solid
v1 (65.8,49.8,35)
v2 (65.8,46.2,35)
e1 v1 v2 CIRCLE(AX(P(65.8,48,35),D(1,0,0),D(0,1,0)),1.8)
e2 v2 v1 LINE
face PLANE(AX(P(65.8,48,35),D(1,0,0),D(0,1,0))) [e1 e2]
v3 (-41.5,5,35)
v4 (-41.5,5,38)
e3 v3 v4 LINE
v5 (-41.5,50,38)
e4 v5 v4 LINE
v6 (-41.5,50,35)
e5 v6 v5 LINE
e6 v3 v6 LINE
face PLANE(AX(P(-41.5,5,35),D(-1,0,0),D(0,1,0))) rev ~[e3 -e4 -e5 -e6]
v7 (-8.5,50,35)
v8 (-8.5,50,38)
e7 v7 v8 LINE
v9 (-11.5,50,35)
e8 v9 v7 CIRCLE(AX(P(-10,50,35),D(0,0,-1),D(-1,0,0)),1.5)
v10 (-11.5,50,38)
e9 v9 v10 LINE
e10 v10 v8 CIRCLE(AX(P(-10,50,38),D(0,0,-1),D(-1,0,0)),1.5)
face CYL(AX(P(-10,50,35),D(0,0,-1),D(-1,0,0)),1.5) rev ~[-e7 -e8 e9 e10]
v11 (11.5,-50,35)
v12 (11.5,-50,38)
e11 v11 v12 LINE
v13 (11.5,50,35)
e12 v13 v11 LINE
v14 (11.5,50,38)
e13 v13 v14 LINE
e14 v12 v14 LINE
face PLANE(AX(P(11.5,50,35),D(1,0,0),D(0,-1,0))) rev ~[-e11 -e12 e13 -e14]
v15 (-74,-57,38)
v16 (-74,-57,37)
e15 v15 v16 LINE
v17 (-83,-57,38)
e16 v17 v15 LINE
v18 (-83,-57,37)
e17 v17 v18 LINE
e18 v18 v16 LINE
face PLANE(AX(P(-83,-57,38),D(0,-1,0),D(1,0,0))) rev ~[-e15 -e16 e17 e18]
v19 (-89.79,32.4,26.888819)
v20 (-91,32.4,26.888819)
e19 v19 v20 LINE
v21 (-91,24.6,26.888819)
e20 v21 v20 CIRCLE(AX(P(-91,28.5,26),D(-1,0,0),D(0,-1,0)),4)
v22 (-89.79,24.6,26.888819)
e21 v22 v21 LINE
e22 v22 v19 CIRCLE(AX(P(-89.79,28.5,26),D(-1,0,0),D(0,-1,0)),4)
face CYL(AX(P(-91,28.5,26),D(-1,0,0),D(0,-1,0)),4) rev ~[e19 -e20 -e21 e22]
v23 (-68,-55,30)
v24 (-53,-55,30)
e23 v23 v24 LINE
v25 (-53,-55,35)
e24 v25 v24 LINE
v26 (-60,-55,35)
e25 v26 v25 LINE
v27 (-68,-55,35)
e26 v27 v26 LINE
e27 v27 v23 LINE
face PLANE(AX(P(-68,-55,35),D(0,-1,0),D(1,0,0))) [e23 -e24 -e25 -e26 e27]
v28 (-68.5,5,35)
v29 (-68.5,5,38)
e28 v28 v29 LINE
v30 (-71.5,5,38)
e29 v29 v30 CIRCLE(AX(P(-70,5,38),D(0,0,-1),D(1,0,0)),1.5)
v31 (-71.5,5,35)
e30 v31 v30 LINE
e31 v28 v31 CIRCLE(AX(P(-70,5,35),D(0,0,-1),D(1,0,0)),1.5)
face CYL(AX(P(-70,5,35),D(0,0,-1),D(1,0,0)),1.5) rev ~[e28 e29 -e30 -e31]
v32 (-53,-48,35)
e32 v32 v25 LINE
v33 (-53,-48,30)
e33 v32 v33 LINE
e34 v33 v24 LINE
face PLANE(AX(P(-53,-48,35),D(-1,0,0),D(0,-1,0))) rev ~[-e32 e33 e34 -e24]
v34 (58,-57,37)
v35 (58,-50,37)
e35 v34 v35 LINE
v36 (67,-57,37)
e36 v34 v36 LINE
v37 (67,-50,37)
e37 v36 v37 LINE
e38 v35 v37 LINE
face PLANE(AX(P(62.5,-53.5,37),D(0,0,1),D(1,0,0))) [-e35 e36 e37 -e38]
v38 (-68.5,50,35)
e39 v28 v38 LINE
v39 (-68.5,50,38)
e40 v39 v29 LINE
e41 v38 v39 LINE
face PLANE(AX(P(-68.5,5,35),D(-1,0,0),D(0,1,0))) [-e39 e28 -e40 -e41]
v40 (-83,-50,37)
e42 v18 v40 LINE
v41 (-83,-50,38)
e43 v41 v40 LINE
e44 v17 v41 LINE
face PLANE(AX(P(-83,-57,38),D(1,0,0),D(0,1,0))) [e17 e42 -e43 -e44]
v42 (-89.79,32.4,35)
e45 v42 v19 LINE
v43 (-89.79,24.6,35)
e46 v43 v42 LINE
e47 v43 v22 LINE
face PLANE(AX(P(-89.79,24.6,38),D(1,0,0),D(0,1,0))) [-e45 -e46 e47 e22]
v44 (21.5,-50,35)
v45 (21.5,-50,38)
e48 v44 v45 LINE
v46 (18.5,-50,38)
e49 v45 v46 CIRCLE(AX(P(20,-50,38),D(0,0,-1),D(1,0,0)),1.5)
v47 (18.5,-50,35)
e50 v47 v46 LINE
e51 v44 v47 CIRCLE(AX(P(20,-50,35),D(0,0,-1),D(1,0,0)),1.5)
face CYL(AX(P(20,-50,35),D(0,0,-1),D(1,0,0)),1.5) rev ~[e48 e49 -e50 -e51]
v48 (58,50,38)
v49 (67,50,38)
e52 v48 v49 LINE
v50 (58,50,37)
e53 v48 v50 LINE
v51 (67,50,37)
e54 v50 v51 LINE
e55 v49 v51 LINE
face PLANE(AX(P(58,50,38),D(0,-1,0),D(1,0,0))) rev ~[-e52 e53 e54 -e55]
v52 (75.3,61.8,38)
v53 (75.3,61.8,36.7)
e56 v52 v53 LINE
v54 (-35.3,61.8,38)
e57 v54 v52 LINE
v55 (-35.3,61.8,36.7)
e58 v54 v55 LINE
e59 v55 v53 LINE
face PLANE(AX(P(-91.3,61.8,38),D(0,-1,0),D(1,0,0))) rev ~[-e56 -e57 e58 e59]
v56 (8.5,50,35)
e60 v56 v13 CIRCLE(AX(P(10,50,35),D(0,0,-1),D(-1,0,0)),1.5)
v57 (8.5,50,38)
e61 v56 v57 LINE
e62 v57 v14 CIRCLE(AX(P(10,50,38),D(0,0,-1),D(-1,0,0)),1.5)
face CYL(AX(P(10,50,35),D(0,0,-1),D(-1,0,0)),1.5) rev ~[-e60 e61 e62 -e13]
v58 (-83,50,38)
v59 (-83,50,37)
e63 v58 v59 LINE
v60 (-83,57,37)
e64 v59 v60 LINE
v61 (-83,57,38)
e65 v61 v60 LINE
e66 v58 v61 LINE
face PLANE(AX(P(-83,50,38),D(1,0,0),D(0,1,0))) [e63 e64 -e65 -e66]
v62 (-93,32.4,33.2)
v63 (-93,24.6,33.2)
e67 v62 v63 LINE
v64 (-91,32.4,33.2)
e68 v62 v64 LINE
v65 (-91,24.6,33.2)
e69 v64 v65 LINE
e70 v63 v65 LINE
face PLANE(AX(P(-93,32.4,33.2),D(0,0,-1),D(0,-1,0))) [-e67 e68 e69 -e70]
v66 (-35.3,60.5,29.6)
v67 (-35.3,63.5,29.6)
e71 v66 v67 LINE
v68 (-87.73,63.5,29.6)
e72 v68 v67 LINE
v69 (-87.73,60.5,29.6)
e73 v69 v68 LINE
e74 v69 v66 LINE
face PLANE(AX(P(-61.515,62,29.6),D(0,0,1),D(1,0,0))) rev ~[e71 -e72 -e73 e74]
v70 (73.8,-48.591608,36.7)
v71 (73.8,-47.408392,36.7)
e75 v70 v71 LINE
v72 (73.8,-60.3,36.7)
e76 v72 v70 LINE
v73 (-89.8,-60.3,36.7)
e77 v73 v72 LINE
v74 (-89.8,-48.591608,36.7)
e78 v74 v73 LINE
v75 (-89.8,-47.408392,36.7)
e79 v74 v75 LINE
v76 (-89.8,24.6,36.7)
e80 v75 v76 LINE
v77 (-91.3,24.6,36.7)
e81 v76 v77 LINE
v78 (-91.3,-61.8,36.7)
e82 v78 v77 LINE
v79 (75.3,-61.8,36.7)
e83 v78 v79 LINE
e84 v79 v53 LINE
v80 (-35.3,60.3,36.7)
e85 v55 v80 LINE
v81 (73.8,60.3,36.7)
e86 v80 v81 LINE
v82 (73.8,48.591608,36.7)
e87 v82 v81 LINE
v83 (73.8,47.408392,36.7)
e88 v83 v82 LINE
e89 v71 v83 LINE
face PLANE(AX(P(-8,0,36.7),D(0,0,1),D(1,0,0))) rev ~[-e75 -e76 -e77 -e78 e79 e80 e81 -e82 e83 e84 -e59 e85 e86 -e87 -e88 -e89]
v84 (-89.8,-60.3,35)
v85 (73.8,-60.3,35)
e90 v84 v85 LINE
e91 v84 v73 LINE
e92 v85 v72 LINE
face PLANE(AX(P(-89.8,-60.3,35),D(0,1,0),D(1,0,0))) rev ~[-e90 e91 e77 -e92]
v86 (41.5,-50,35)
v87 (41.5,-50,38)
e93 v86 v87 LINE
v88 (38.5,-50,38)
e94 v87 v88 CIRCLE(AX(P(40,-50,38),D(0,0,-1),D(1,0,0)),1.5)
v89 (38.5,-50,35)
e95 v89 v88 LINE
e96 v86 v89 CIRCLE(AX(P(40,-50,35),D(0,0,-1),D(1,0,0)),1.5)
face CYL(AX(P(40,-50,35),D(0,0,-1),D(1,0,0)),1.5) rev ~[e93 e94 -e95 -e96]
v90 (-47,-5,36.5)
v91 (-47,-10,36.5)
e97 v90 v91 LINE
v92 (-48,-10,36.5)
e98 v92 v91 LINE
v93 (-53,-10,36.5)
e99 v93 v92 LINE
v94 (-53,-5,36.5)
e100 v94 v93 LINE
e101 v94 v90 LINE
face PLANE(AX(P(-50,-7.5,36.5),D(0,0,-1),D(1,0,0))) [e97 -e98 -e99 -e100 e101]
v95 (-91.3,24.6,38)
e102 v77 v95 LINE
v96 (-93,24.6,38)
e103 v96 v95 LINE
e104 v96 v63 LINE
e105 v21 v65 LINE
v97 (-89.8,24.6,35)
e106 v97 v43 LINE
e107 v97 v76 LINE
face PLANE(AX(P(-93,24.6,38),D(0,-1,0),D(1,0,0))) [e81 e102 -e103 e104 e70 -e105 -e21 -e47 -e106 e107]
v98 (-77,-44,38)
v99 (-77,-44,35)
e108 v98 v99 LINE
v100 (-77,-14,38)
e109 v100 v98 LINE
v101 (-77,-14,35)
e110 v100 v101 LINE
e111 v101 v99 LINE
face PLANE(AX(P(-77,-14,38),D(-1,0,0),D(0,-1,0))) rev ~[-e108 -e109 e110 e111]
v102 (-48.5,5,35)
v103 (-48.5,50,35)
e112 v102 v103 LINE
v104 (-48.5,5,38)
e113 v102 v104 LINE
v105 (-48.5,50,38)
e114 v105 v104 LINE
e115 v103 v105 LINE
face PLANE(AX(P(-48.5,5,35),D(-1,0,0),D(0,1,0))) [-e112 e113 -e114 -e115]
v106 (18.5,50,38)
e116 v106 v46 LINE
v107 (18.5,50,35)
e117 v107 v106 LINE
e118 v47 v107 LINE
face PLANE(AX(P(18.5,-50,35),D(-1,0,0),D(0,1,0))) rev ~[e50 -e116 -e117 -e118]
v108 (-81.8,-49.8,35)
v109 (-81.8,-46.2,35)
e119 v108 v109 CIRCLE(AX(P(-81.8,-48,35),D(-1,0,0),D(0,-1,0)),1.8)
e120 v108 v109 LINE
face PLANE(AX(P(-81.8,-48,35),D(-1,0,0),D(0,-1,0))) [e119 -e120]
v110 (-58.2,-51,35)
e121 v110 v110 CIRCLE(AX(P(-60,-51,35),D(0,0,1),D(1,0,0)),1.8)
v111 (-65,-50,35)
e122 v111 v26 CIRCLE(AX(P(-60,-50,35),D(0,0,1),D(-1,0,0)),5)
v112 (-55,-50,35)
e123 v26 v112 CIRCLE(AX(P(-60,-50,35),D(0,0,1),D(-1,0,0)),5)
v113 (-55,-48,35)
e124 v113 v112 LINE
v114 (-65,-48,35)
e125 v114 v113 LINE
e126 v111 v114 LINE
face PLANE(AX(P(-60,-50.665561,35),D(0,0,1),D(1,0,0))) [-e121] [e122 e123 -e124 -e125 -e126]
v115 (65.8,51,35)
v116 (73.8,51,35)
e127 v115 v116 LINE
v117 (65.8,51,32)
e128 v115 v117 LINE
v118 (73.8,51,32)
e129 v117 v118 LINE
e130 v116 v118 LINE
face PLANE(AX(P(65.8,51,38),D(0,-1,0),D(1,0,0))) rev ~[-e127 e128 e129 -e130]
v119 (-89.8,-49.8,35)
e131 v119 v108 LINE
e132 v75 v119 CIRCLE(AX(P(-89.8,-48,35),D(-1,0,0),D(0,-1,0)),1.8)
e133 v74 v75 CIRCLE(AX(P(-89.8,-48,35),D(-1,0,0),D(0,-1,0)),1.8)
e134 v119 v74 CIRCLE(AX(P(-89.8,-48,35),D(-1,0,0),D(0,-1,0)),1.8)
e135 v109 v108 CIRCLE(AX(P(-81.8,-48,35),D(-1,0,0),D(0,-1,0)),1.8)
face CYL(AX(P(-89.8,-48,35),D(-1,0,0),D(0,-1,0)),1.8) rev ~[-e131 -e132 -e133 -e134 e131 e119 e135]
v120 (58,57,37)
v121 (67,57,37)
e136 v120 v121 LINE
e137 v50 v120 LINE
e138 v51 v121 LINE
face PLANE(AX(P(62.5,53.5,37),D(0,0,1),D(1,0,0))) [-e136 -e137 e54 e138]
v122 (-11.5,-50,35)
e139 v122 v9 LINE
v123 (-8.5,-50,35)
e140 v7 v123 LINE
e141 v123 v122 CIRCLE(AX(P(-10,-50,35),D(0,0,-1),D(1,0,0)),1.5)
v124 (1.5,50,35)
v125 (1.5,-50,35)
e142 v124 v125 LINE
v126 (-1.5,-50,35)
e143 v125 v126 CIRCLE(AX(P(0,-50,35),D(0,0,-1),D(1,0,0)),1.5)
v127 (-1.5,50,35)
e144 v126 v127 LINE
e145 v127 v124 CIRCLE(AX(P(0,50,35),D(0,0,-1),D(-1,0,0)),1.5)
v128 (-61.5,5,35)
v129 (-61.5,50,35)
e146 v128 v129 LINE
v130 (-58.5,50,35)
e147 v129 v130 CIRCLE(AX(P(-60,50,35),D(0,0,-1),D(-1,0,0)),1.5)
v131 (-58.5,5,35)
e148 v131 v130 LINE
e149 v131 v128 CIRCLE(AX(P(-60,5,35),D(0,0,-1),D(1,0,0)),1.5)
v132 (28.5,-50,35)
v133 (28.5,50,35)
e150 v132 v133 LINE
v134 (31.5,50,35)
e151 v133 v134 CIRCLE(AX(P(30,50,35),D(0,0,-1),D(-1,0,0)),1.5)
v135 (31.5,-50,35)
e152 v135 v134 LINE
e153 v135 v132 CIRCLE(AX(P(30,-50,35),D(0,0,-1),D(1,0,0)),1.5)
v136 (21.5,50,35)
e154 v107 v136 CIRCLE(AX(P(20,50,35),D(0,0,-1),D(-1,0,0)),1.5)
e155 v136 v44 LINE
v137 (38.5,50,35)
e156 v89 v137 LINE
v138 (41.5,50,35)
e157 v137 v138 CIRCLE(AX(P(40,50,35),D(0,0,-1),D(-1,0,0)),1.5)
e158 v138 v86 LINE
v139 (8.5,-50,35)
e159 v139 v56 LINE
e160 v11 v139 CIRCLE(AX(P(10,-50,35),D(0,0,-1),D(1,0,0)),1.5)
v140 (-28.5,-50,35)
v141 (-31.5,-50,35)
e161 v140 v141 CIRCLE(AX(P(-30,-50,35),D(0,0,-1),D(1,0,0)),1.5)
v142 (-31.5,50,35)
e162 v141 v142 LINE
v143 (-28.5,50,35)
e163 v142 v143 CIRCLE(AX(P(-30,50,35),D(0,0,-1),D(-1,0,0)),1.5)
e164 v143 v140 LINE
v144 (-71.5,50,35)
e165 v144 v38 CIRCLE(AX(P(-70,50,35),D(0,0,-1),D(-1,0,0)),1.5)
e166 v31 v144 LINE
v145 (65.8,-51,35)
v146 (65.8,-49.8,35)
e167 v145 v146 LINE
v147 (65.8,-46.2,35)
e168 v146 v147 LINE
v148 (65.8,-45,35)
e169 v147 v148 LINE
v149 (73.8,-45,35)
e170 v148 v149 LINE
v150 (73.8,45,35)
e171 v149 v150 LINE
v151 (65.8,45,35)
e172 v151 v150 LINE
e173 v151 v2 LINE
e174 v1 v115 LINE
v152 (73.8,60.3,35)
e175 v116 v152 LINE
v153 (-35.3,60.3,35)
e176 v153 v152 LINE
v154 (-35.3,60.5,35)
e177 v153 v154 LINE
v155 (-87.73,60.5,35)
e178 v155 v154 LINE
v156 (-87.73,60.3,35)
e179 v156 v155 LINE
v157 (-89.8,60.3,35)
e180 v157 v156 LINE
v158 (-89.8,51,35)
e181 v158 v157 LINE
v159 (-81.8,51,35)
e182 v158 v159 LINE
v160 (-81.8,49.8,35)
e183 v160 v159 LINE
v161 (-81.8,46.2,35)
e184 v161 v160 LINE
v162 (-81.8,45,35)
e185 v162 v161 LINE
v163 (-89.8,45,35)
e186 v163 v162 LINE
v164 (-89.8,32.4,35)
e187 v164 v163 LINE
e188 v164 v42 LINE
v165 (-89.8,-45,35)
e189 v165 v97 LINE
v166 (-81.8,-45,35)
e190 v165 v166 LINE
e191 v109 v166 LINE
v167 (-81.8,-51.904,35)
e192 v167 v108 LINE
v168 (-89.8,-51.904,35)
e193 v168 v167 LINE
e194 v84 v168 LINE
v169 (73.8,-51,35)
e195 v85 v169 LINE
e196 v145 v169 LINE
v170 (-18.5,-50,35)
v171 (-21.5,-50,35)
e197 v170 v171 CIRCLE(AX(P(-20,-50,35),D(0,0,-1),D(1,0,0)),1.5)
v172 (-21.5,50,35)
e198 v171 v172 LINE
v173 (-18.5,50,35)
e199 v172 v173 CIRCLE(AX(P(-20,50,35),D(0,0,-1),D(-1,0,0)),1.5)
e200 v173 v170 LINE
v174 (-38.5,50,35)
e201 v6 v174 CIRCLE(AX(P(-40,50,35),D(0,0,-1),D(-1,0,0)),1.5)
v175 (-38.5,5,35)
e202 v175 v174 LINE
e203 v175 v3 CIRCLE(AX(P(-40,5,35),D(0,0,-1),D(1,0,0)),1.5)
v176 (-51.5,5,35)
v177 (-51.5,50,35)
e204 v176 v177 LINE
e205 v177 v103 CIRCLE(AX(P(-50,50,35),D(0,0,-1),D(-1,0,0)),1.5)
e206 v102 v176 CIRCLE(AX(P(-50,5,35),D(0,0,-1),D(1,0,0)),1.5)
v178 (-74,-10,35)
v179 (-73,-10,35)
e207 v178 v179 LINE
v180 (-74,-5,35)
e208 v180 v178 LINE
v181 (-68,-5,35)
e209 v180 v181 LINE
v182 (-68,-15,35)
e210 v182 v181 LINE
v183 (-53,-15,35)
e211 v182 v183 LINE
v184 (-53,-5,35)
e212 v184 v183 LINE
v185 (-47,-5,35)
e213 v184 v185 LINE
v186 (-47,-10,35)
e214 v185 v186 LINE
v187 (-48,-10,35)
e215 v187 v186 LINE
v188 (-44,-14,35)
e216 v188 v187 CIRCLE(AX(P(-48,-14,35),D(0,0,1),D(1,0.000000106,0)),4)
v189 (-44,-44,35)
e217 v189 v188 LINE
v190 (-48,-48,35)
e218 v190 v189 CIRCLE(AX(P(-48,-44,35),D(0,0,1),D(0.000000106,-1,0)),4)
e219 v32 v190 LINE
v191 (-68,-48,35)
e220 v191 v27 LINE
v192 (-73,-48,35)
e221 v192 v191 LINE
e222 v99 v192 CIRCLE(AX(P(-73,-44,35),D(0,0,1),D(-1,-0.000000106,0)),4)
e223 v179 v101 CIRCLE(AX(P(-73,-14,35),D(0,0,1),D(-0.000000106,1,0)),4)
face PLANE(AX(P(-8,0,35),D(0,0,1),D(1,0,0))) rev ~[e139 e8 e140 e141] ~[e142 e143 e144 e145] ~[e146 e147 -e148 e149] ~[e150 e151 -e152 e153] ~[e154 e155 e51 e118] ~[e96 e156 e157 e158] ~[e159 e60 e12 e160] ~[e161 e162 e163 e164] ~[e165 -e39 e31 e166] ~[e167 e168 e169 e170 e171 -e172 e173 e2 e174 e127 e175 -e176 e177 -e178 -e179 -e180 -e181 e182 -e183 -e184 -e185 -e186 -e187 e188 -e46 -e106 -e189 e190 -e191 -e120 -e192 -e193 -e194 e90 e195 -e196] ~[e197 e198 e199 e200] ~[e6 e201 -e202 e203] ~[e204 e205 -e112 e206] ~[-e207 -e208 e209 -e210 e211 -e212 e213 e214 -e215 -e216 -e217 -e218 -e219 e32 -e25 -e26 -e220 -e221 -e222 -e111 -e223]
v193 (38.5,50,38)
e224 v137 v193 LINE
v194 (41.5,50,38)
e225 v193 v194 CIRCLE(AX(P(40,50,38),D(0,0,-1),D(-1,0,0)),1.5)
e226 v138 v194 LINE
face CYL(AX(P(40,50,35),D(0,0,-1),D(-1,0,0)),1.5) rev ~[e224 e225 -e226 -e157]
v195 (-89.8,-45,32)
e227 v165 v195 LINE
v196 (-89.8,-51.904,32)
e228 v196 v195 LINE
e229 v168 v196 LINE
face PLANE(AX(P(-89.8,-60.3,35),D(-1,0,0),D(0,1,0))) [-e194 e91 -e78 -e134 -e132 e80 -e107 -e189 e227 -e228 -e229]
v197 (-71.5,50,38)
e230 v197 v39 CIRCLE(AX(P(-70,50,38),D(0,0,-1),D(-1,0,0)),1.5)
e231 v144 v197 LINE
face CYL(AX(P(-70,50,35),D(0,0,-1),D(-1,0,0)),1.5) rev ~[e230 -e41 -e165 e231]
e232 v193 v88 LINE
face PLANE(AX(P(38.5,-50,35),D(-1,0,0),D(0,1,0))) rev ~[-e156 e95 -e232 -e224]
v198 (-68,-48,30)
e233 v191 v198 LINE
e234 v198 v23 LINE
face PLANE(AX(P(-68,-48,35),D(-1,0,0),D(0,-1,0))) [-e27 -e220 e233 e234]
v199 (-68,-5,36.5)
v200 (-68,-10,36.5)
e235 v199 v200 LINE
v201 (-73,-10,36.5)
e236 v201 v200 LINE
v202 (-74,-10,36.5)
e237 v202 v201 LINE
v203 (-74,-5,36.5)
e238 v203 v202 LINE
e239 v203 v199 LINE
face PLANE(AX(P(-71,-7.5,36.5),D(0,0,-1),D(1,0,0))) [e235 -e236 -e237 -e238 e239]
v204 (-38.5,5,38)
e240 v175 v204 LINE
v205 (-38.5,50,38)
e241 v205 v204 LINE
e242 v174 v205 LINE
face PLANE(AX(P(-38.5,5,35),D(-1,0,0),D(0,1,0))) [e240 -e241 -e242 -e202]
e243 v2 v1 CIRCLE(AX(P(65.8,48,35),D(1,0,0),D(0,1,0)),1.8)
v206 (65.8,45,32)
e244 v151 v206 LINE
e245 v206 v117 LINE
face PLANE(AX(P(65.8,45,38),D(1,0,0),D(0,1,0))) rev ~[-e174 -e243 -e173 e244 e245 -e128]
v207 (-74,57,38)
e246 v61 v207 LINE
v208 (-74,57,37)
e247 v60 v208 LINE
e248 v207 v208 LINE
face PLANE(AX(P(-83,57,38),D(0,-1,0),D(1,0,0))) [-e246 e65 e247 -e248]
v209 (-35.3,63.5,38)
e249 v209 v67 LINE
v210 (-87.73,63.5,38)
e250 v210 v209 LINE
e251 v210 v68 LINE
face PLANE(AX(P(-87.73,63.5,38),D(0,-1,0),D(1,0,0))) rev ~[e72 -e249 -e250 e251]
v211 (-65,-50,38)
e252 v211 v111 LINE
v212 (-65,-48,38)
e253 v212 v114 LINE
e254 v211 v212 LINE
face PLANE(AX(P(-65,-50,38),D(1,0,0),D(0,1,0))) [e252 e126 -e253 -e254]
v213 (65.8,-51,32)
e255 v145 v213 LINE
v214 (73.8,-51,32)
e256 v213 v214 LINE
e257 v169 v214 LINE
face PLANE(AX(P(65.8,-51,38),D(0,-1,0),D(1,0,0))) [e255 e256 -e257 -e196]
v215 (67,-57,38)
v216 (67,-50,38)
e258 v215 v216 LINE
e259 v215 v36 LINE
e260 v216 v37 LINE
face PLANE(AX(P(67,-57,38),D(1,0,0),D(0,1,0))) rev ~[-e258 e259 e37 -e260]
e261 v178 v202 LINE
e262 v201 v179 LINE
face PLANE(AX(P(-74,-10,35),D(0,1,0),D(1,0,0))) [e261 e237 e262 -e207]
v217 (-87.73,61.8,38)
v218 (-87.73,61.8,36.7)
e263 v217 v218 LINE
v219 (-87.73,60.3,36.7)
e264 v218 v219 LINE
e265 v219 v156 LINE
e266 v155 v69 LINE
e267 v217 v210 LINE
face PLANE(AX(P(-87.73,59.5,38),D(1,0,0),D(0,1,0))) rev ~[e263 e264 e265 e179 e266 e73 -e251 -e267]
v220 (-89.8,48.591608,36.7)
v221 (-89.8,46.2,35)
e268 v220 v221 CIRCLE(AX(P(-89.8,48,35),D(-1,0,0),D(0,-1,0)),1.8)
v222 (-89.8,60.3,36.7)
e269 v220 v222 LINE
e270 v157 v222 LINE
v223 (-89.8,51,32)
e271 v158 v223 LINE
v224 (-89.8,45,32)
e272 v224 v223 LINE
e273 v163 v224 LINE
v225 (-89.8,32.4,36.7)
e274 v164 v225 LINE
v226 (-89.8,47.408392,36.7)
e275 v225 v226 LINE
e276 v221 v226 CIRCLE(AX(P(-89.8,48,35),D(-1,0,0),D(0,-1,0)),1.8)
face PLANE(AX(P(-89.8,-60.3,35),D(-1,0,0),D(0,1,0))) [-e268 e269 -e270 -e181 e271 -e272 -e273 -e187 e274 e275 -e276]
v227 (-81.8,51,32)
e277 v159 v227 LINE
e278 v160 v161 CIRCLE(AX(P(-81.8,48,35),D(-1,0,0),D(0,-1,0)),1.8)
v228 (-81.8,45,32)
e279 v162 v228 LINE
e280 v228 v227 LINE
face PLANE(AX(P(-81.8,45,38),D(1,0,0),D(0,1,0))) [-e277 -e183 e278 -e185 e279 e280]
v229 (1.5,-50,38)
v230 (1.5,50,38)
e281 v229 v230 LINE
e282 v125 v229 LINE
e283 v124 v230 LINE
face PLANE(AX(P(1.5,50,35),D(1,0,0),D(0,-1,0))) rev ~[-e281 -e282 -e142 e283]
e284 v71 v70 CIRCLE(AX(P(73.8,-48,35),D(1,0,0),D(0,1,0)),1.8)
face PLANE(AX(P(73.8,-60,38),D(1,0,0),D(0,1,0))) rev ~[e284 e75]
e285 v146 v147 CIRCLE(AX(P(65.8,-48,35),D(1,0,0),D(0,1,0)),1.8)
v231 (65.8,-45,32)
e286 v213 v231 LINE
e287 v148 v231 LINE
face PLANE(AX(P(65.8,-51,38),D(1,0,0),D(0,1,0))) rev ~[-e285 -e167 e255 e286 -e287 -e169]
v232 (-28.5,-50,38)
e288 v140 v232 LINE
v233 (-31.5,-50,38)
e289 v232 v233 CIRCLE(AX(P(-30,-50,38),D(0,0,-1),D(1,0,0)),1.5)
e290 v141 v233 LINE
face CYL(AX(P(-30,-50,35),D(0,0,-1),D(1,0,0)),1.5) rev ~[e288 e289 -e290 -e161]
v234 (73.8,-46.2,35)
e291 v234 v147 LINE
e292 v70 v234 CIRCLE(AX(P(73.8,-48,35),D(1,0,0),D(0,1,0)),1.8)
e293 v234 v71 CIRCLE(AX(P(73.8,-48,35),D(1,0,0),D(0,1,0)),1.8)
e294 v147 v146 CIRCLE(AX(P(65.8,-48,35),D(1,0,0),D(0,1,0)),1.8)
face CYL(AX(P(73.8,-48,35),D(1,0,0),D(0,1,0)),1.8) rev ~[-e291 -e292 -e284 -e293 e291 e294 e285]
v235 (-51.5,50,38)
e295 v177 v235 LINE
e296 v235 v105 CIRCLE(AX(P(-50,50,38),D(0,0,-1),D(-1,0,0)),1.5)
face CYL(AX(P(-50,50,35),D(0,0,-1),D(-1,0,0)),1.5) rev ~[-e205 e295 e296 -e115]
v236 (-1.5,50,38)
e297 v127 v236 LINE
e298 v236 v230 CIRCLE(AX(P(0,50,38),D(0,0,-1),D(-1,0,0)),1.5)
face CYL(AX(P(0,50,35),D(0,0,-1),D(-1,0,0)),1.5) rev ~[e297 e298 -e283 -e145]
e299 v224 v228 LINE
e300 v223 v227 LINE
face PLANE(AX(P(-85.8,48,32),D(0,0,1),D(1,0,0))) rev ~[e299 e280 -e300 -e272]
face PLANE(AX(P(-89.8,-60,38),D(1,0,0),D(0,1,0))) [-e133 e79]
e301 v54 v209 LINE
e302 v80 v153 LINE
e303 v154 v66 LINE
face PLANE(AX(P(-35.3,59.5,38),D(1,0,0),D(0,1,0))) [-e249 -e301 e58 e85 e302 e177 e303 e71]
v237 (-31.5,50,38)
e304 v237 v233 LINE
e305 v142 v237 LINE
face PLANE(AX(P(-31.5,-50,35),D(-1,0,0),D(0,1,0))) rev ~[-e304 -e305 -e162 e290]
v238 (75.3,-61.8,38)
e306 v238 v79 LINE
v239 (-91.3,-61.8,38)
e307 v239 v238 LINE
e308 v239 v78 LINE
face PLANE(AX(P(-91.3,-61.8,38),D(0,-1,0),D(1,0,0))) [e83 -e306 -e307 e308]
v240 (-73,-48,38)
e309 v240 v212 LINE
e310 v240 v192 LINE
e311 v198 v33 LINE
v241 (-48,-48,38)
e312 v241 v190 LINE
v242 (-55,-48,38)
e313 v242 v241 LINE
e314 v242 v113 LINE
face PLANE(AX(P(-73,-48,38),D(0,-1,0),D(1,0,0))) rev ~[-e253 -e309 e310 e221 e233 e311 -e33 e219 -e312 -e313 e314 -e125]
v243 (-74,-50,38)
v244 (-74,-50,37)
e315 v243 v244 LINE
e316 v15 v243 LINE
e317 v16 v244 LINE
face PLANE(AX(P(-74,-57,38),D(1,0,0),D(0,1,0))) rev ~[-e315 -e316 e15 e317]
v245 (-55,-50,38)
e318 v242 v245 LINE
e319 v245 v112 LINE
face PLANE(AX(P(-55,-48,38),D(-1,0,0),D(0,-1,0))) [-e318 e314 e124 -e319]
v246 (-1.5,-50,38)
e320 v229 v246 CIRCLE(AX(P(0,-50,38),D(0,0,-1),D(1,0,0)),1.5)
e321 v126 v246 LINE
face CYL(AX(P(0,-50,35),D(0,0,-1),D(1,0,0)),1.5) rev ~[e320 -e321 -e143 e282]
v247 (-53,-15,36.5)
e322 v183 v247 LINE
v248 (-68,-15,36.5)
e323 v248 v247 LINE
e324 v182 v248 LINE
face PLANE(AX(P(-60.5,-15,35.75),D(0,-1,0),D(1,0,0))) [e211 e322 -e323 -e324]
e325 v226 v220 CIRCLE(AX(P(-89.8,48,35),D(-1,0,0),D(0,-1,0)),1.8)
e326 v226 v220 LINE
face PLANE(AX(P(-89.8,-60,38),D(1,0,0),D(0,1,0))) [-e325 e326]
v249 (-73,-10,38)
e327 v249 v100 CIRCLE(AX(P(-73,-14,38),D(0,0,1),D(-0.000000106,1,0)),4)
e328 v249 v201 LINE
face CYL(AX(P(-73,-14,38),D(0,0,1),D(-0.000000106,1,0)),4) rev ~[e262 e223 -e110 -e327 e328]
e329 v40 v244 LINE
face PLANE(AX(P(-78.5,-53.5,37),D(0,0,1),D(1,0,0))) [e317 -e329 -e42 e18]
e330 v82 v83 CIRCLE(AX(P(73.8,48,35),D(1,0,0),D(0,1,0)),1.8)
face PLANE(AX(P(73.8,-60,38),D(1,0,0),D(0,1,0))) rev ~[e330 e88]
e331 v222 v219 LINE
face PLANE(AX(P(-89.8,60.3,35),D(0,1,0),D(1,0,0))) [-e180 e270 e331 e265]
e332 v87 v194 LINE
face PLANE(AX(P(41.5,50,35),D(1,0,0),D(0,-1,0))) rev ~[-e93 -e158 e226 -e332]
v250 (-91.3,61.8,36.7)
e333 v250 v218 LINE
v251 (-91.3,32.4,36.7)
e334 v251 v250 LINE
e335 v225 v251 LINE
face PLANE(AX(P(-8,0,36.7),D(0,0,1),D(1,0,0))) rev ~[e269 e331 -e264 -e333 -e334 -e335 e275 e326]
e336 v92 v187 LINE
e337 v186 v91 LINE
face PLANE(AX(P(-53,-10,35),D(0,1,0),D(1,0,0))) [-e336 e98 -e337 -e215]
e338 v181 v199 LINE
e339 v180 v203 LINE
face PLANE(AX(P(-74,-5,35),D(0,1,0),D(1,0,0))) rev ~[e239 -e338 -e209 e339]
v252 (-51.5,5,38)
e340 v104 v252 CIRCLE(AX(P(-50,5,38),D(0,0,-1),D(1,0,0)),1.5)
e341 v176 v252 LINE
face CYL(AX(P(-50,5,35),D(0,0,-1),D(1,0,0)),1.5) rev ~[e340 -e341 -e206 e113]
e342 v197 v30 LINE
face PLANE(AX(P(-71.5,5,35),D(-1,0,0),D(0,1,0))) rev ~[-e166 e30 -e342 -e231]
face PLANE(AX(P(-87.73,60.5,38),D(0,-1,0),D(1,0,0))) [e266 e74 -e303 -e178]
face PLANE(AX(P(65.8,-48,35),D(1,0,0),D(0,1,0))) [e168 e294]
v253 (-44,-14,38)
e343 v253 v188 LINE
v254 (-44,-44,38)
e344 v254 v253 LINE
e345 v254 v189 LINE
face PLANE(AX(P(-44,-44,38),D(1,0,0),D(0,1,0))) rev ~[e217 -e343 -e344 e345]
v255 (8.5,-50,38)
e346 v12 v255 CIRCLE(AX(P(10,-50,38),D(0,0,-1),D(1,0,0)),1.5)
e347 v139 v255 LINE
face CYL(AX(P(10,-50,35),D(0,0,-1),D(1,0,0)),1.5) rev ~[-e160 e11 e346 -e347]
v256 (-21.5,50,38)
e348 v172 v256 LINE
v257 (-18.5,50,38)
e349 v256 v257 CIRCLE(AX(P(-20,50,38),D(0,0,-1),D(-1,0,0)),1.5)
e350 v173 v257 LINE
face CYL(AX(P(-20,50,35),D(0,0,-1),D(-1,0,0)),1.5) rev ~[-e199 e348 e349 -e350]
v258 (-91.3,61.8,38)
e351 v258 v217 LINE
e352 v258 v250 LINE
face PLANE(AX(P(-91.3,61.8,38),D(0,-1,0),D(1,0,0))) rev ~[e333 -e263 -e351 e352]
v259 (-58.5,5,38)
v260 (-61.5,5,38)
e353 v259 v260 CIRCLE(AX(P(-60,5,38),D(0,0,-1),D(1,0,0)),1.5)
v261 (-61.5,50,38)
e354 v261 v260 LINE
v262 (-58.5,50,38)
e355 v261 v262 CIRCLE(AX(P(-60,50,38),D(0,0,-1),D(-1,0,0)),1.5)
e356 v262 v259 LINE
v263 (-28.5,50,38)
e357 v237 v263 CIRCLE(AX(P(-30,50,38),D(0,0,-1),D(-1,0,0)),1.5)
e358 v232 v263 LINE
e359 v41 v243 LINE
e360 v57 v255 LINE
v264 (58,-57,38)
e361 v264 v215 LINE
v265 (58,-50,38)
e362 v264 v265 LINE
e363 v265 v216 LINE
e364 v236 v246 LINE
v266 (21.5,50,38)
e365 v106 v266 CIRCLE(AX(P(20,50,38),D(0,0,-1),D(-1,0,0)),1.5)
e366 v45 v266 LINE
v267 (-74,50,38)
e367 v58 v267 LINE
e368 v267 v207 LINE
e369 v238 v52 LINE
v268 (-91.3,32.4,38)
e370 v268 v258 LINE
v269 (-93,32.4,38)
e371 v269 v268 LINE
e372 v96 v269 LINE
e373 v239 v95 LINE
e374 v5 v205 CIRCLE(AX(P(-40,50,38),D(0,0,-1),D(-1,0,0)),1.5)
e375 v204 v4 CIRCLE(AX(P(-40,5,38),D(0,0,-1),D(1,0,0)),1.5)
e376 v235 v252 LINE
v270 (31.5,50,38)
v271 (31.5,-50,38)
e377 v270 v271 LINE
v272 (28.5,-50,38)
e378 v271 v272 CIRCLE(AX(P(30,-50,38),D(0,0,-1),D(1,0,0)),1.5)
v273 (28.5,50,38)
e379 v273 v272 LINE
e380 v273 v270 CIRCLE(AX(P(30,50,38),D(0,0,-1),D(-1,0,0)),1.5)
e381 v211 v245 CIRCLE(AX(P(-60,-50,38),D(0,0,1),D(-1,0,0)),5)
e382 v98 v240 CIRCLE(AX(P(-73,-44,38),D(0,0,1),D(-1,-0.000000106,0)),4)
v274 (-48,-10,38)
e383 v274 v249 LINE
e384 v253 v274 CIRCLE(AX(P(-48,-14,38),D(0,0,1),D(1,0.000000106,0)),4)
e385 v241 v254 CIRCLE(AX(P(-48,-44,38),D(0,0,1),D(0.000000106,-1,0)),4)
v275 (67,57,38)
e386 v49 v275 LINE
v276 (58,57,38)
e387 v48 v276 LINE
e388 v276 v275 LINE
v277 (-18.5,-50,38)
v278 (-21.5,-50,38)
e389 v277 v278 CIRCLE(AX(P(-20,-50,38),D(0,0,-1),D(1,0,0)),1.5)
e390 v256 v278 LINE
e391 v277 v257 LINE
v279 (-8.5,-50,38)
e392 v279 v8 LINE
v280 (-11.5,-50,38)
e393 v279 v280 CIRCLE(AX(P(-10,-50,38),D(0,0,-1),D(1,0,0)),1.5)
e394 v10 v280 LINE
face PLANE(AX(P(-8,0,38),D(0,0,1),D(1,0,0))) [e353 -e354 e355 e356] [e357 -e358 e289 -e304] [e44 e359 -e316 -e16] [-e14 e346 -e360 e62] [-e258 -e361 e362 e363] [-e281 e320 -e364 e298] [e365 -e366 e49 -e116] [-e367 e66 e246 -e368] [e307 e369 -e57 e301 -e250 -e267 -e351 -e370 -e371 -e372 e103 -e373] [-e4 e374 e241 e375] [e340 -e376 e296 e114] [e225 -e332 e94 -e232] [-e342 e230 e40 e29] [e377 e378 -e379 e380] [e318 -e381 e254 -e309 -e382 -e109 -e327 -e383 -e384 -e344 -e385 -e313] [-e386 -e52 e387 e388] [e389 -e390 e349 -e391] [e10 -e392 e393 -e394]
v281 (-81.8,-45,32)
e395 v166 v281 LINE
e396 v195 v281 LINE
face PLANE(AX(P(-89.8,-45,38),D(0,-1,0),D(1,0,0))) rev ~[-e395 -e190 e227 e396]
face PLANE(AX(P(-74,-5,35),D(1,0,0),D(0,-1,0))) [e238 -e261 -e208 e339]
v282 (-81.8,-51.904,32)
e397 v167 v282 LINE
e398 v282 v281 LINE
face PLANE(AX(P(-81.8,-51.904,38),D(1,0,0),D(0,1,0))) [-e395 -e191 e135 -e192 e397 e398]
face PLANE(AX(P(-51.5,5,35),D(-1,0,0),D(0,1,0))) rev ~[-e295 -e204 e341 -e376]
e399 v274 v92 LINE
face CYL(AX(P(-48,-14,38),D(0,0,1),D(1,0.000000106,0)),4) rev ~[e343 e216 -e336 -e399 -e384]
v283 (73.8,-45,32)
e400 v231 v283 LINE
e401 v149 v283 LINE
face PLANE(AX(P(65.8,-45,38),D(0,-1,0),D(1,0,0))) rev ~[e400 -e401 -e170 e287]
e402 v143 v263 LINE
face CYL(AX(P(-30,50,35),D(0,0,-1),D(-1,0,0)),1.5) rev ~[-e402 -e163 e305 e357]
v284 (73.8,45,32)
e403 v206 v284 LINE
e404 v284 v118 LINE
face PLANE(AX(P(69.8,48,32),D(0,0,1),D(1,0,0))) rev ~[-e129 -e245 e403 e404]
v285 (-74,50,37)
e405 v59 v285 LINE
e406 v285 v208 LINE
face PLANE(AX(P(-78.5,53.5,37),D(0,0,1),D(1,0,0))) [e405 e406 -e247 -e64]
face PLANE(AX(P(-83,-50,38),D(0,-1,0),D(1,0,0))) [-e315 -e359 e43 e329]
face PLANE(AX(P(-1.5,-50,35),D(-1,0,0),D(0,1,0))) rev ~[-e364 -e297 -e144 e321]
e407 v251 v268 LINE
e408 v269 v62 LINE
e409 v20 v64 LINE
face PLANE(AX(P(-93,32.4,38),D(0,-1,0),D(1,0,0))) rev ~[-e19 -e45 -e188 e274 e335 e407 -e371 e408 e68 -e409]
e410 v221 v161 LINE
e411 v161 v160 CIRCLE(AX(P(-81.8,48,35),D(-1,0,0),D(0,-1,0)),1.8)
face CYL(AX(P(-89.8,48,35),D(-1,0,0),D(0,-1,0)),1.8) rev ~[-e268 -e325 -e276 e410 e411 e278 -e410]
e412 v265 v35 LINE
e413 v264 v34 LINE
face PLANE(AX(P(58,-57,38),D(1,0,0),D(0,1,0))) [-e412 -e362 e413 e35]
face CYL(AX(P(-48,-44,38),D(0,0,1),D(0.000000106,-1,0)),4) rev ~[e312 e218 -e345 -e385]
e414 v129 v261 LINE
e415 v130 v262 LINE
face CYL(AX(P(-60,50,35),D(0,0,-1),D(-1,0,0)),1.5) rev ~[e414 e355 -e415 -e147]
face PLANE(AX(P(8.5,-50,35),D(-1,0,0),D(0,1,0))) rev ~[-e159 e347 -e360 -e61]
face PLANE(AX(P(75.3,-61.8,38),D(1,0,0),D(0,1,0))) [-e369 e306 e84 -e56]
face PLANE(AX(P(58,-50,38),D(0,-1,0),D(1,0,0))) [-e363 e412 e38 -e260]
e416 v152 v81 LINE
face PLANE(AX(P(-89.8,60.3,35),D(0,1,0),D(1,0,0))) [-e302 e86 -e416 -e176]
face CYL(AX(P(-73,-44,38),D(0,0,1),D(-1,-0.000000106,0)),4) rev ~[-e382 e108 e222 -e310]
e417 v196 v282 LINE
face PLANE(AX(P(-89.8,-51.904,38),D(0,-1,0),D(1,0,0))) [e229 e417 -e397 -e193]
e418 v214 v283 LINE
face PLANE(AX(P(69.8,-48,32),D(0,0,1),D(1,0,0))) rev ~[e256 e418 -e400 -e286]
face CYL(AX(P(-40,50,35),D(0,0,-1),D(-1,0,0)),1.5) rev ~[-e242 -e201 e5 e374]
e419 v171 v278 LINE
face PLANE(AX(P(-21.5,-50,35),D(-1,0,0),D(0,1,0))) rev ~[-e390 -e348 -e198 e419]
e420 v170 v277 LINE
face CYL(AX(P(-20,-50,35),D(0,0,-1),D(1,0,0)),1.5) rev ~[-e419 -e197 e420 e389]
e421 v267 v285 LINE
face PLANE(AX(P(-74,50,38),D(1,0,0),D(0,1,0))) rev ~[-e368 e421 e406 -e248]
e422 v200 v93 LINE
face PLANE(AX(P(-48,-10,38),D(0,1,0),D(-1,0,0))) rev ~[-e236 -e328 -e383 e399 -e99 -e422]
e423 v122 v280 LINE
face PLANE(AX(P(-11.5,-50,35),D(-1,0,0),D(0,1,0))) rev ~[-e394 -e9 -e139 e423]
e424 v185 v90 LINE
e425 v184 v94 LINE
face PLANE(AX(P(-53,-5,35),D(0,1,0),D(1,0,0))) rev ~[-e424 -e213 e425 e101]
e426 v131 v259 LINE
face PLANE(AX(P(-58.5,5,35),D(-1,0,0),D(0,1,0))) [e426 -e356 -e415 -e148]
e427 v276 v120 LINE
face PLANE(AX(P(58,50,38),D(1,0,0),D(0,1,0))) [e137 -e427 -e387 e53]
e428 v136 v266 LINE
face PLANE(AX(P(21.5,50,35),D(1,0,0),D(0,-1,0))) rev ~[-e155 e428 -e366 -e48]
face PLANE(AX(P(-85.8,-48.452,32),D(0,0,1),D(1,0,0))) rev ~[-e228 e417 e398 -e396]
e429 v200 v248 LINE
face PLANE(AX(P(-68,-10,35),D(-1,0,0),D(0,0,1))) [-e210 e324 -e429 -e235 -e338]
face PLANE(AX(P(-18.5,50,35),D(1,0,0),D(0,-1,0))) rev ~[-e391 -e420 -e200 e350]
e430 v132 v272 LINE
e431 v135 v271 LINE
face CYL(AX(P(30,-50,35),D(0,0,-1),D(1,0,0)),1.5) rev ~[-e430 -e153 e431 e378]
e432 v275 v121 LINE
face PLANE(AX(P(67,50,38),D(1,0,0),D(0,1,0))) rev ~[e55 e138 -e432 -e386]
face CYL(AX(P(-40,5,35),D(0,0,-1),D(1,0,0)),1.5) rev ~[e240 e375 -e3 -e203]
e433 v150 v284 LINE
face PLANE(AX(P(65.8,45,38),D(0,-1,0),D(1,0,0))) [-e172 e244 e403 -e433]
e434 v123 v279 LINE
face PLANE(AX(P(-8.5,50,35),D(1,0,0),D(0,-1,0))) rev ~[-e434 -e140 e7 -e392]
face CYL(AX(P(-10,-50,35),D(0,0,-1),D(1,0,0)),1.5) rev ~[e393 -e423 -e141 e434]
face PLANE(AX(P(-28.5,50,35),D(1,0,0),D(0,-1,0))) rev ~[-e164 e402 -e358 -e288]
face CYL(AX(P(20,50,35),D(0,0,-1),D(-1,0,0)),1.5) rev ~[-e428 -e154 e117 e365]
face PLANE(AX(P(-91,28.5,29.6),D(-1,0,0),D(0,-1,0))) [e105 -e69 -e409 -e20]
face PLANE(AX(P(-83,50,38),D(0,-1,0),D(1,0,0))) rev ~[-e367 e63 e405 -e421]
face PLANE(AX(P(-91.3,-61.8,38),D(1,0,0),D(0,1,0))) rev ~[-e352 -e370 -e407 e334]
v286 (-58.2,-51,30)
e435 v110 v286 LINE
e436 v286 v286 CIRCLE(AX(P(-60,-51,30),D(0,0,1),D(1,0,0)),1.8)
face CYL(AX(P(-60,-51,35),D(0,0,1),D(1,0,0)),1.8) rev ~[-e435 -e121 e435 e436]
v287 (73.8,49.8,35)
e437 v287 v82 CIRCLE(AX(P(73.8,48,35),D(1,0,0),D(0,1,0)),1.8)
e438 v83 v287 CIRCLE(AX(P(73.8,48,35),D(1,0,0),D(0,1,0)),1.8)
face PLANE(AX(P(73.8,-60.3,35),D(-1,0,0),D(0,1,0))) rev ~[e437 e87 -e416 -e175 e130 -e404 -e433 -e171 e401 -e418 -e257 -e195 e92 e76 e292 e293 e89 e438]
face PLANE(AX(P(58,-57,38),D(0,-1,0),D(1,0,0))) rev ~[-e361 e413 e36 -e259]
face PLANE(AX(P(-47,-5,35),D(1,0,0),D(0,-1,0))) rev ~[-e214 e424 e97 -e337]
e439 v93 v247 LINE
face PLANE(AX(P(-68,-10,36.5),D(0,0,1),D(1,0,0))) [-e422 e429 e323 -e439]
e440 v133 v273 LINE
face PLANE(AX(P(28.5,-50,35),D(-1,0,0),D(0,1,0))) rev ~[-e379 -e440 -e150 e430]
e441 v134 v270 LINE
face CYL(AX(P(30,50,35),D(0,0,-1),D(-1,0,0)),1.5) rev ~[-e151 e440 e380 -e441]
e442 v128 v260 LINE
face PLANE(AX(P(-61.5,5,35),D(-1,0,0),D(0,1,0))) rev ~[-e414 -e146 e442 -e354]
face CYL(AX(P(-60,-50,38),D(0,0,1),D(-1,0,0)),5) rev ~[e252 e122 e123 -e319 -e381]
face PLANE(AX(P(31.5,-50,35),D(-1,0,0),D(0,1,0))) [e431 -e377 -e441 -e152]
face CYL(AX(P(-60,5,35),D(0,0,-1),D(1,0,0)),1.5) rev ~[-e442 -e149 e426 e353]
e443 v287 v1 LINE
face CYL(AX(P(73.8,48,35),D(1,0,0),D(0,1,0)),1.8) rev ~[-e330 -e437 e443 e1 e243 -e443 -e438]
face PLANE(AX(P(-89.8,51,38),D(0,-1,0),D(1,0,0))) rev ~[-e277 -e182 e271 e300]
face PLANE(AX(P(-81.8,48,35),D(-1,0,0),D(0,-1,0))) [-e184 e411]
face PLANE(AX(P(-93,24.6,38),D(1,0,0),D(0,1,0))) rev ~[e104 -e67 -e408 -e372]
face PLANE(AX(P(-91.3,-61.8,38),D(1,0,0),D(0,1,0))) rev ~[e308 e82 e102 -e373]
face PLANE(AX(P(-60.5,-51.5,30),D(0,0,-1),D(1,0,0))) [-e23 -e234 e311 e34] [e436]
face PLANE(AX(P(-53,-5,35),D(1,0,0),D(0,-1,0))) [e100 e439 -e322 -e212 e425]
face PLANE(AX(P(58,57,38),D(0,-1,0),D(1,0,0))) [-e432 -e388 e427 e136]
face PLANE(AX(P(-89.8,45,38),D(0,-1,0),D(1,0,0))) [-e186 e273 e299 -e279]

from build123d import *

# Parameters (mm, degrees)
SKETCH019_W     = 163.6
SKETCH019_H     = 120.6
PAD003_DEPTH    = 3
SKETCH020_W     = 52.43
SKETCH020_H     = 4
PAD004_DEPTH    = 3
SKETCH021_W     = 52.43
SKETCH021_H     = 3
PAD005_DEPTH    = 8.4
SKETCH025_W     = 3.21
SKETCH025_H     = 7.8
PAD006_DEPTH    = 11.9
SKETCH026_W     = 7.8
SKETCH026_H     = 7.2
POCKET019_DEPTH = 2
SKETCH027_R     = 4
POCKET020_DEPTH = 5
SKETCH028_W     = 8
SKETCH028_H     = 6
SKETCH028_H_2   = 6.904
PAD007_DEPTH    = 6
SKETCH029_R     = 1.8
POCKET021_DEPTH = 8
SKETCH030_R     = 1.8
POCKET022_DEPTH = 8
POCKET027_DEPTH = 5
SKETCH036_W     = 15
SKETCH036_H     = 1.5
PAD008_DEPTH    = 5
SKETCH037_W     = 6
SKETCH037_H     = 5
POCKET028_DEPTH = 1.5
SKETCH038_W     = 15
SKETCH038_H     = 7
PAD009_DEPTH    = 5
POCKET029_DEPTH = 3
SKETCH040_R     = 1.8
POCKET030_DEPTH = 5
POCKET031_DEPTH = 5
SKETCH042_W     = 9
SKETCH042_H     = 7
POCKET032_DEPTH = 1
SKETCH050_W     = 166.6
SKETCH050_H     = 123.6
SKETCH050_W_2   = 163.6
SKETCH050_H_2   = 120
PAD014_DEPTH    = 1.3


with BuildPart() as part:
    # Sketch019 → Pad003 (new body)
    with BuildSketch(Plane.XY):
        with Locations((-8, 0)):
            Rectangle(SKETCH019_W, SKETCH019_H)
    extrude(amount=PAD003_DEPTH)

    # Sketch020 (on Face6 of Pad003) → Pad004 (join)
    with BuildSketch(Plane.XY.offset(3)):
        with Locations((-61.515, 61.5)):
            Rectangle(SKETCH020_W, SKETCH020_H)
    extrude(amount=-PAD004_DEPTH)

    # Sketch021 (on Face10 of Pad004) → Pad005 (join)
    with BuildSketch(Plane.XY.offset(3)):
        with Locations((-61.515, 62)):
            Rectangle(SKETCH021_W, SKETCH021_H)
    extrude(amount=-PAD005_DEPTH)

    # Sketch025 (on Face4 of Pad005) → Pad006 (join)
    with BuildSketch(Plane.XY.offset(3)):
        with Locations((-91.395, 28.5)):
            Rectangle(SKETCH025_W, SKETCH025_H)
    extrude(amount=-PAD006_DEPTH)

    # Sketch026 (on Face11 of Pad006) → Pocket019 (cut)
    with BuildSketch(Plane(origin=(-93, 0, 0), x_dir=(0, -1, 0), z_dir=(-1, 0, 0))):
        with Locations((-28.5, -5.4)):
            Rectangle(SKETCH026_W, SKETCH026_H)
    extrude(amount=-POCKET019_DEPTH, mode=Mode.SUBTRACT)

    # Sketch027 (on Face19 of Pocket019) → Pocket020 (cut)
    with BuildSketch(Plane(origin=(-91, 0, 0), x_dir=(0, -1, 0), z_dir=(-1, 0, 0))):
        with Locations((-28.5, -9)):
            Circle(SKETCH027_R)
    extrude(amount=-POCKET020_DEPTH, mode=Mode.SUBTRACT)

    # Sketch028 (on Face4 of Pocket020) → Pad007 (join)
    with BuildSketch(Plane.XY.offset(3)):
        with Locations((-85.8, 48)):
            Rectangle(SKETCH028_W, SKETCH028_H)
        with Locations((-85.8, -48.452)):
            Rectangle(SKETCH028_W, SKETCH028_H_2)
        with Locations((69.8, -48)):
            Rectangle(SKETCH028_W, SKETCH028_H)
        with Locations((69.8, 48)):
            Rectangle(SKETCH028_W, SKETCH028_H)
    extrude(amount=-PAD007_DEPTH)

    # Sketch029 (on Face36 of Pad007) → Pocket021 (cut)
    with BuildSketch(Plane.YZ.offset(73.8)):
        with Locations((48, 0)):
            Circle(SKETCH029_R)
        with Locations((-48, 0)):
            Circle(SKETCH029_R)
    extrude(amount=-POCKET021_DEPTH, mode=Mode.SUBTRACT)

    # Sketch030 (on Face12 of Pocket021) → Pocket022 (cut)
    with BuildSketch(Plane(origin=(-89.8, 0, 0), x_dir=(0, -1, 0), z_dir=(-1, 0, 0))):
        with Locations((48, 0)):
            Circle(SKETCH030_R)
        with Locations((-48, 0)):
            Circle(SKETCH030_R)
    extrude(amount=-POCKET022_DEPTH, mode=Mode.SUBTRACT)

    # Sketch035 (on Face4 of Pocket022) → Pocket027 (cut)
    with BuildSketch(Plane.XY.offset(3)):
        with BuildLine():
            Line((-77, -14), (-77, -44))
            ThreePointArc((-77, -44), (-75.828427, -46.828427), (-73, -48))
            Line((-73, -48), (-48, -48))
            ThreePointArc((-48, -48), (-45.171573, -46.828427), (-44, -44))
            Line((-44, -44), (-44, -14))
            ThreePointArc((-44, -14), (-45.171573, -11.171573), (-48, -10))
            Line((-48, -10), (-73, -10))
            ThreePointArc((-73, -10), (-75.828427, -11.171573), (-77, -14))
        make_face()
    extrude(amount=-POCKET027_DEPTH, mode=Mode.SUBTRACT)

    # Sketch036 (on Face33 of Pocket027) → Pad008 (join)
    with BuildSketch(Plane.XZ.offset(10)):
        with Locations((-60.5, 0.75)):
            Rectangle(SKETCH036_W, SKETCH036_H)
    extrude(amount=PAD008_DEPTH)

    # Sketch037 (on Face56 of Pad008) → Pocket028 (cut)
    with BuildSketch(Plane(origin=(0, 0, 0), x_dir=(1, 0, 0), z_dir=(0, 0, -1))):
        with Locations((-71, 7.5)):
            Rectangle(SKETCH037_W, SKETCH037_H)
        with Locations((-50, 7.5)):
            Rectangle(SKETCH037_W, SKETCH037_H)
    extrude(amount=-POCKET028_DEPTH, mode=Mode.SUBTRACT)

    # Sketch038 (on Face2 of Pocket028) → Pad009 (join)
    with BuildSketch(Plane(origin=(0, 0, 0), x_dir=(1, 0, 0), z_dir=(0, 0, -1))):
        with Locations((-60.5, 51.5)):
            Rectangle(SKETCH038_W, SKETCH038_H)
    extrude(amount=PAD009_DEPTH)

    # Sketch039 (on Face4 of Pad009) → Pocket029 (cut)
    with BuildSketch(Plane.XY.offset(3)):
        with BuildLine():
            ThreePointArc((-65, -50), (-60, -55), (-55, -50))
            Line((-55, -48), (-55, -50))
            Line((-65, -48), (-55, -48))
            Line((-65, -50), (-65, -48))
        make_face()
    extrude(amount=-POCKET029_DEPTH, mode=Mode.SUBTRACT)

    # Sketch040 (on Face72 of Pocket029) → Pocket030 (cut)
    with BuildSketch(Plane.XY):
        with Locations((-60, -51)):
            Circle(SKETCH040_R)
    extrude(amount=-POCKET030_DEPTH, mode=Mode.SUBTRACT)

    # Sketch041 (on Face2 of Pocket030) → Pocket031 (cut)
    with BuildSketch(Plane(origin=(0, 0, 0), x_dir=(1, 0, 0), z_dir=(0, 0, -1))):
        with BuildLine():
            ThreePointArc((-28.5, 50), (-30, 51.5), (-31.5, 50))
            Line((-31.5, 50), (-31.5, -50))
            ThreePointArc((-31.5, -50), (-30, -51.5), (-28.5, -50))
            Line((-28.5, -50), (-28.5, 50))
        make_face()
        with BuildLine():
            ThreePointArc((-18.5, 50), (-20, 51.5), (-21.5, 50))
            Line((-21.5, 50), (-21.5, -50))
            ThreePointArc((-21.5, -50), (-20, -51.5), (-18.5, -50))
            Line((-18.5, -50), (-18.5, 50))
        make_face()
        with BuildLine():
            ThreePointArc((-8.5, 50), (-10, 51.5), (-11.5, 50))
            Line((-11.5, 50), (-11.5, -50))
            ThreePointArc((-11.5, -50), (-10, -51.5), (-8.5, -50))
            Line((-8.5, -50), (-8.5, 50))
        make_face()
        with BuildLine():
            ThreePointArc((1.5, 50), (0, 51.5), (-1.5, 50))
            Line((-1.5, 50), (-1.5, -50))
            ThreePointArc((-1.5, -50), (0, -51.5), (1.5, -50))
            Line((1.5, -50), (1.5, 50))
        make_face()
        with BuildLine():
            ThreePointArc((11.5, 50), (10, 51.5), (8.5, 50))
            Line((8.5, 50), (8.5, -50))
            ThreePointArc((8.5, -50), (10, -51.5), (11.5, -50))
            Line((11.5, -50), (11.5, 50))
        make_face()
        with BuildLine():
            ThreePointArc((21.5, 50), (20, 51.5), (18.5, 50))
            Line((18.5, 50), (18.5, -50))
            ThreePointArc((18.5, -50), (20, -51.5), (21.5, -50))
            Line((21.5, -50), (21.5, 50))
        make_face()
        with BuildLine():
            ThreePointArc((31.5, 50), (30, 51.5), (28.5, 50))
            Line((28.5, 50), (28.5, -50))
            ThreePointArc((28.5, -50), (30, -51.5), (31.5, -50))
            Line((31.5, 50), (31.5, -50))
        make_face()
        with BuildLine():
            ThreePointArc((41.5, 50), (40, 51.5), (38.5, 50))
            Line((38.5, 50), (38.5, -50))
            ThreePointArc((38.5, -50), (40, -51.5), (41.5, -50))
            Line((41.5, -50), (41.5, 50))
        make_face()
        with BuildLine():
            ThreePointArc((-41.5, -50), (-40, -51.5), (-38.5, -50))
            Line((-38.5, -5), (-38.5, -50))
            ThreePointArc((-38.5, -5), (-40, -3.5), (-41.5, -5))
            Line((-41.5, -5), (-41.5, -50))
        make_face()
        with BuildLine():
            ThreePointArc((-51.5, -50), (-50, -51.5), (-48.5, -50))
            Line((-48.5, -5), (-48.5, -50))
            ThreePointArc((-48.5, -5), (-50, -3.5), (-51.5, -5))
            Line((-51.5, -5), (-51.5, -50))
        make_face()
        with BuildLine():
            ThreePointArc((-61.5, -50), (-60, -51.5), (-58.5, -50))
            Line((-58.5, -5), (-58.5, -50))
            ThreePointArc((-58.5, -5), (-60, -3.5), (-61.5, -5))
            Line((-61.5, -5), (-61.5, -50))
        make_face()
        with BuildLine():
            ThreePointArc((-71.5, -50), (-70, -51.5), (-68.5, -50))
            Line((-68.5, -5), (-68.5, -50))
            ThreePointArc((-68.5, -5), (-70, -3.5), (-71.5, -5))
            Line((-71.5, -5), (-71.5, -50))
        make_face()
    extrude(amount=-POCKET031_DEPTH, mode=Mode.SUBTRACT)

    # Sketch042 (on Face4 of Pocket031) → Pocket032 (cut)
    with BuildSketch(Plane.XY.offset(3)):
        with Locations((-78.5, 53.5)):
            Rectangle(SKETCH042_W, SKETCH042_H)
        with Locations((62.5, 53.5)):
            Rectangle(SKETCH042_W, SKETCH042_H)
        with Locations((62.5, -53.5)):
            Rectangle(SKETCH042_W, SKETCH042_H)
        with Locations((-78.5, -53.5)):
            Rectangle(SKETCH042_W, SKETCH042_H)
    extrude(amount=-POCKET032_DEPTH, mode=Mode.SUBTRACT)

    # Sketch050 (on Face4 of Pocket032) → Pad014 (join)
    with BuildSketch(Plane.XY.offset(3)):
        with Locations((-8, 0)):
            Rectangle(SKETCH050_W, SKETCH050_H)
        with Locations((-8, 0)):
            Rectangle(SKETCH050_W_2, SKETCH050_H_2, mode=Mode.SUBTRACT)
    extrude(amount=-PAD014_DEPTH)


with BuildPart() as part_1:
    # Body001 placement: moved
    add(part.part.moved(Location((0, 0, 35))))


solid = part_1.part
